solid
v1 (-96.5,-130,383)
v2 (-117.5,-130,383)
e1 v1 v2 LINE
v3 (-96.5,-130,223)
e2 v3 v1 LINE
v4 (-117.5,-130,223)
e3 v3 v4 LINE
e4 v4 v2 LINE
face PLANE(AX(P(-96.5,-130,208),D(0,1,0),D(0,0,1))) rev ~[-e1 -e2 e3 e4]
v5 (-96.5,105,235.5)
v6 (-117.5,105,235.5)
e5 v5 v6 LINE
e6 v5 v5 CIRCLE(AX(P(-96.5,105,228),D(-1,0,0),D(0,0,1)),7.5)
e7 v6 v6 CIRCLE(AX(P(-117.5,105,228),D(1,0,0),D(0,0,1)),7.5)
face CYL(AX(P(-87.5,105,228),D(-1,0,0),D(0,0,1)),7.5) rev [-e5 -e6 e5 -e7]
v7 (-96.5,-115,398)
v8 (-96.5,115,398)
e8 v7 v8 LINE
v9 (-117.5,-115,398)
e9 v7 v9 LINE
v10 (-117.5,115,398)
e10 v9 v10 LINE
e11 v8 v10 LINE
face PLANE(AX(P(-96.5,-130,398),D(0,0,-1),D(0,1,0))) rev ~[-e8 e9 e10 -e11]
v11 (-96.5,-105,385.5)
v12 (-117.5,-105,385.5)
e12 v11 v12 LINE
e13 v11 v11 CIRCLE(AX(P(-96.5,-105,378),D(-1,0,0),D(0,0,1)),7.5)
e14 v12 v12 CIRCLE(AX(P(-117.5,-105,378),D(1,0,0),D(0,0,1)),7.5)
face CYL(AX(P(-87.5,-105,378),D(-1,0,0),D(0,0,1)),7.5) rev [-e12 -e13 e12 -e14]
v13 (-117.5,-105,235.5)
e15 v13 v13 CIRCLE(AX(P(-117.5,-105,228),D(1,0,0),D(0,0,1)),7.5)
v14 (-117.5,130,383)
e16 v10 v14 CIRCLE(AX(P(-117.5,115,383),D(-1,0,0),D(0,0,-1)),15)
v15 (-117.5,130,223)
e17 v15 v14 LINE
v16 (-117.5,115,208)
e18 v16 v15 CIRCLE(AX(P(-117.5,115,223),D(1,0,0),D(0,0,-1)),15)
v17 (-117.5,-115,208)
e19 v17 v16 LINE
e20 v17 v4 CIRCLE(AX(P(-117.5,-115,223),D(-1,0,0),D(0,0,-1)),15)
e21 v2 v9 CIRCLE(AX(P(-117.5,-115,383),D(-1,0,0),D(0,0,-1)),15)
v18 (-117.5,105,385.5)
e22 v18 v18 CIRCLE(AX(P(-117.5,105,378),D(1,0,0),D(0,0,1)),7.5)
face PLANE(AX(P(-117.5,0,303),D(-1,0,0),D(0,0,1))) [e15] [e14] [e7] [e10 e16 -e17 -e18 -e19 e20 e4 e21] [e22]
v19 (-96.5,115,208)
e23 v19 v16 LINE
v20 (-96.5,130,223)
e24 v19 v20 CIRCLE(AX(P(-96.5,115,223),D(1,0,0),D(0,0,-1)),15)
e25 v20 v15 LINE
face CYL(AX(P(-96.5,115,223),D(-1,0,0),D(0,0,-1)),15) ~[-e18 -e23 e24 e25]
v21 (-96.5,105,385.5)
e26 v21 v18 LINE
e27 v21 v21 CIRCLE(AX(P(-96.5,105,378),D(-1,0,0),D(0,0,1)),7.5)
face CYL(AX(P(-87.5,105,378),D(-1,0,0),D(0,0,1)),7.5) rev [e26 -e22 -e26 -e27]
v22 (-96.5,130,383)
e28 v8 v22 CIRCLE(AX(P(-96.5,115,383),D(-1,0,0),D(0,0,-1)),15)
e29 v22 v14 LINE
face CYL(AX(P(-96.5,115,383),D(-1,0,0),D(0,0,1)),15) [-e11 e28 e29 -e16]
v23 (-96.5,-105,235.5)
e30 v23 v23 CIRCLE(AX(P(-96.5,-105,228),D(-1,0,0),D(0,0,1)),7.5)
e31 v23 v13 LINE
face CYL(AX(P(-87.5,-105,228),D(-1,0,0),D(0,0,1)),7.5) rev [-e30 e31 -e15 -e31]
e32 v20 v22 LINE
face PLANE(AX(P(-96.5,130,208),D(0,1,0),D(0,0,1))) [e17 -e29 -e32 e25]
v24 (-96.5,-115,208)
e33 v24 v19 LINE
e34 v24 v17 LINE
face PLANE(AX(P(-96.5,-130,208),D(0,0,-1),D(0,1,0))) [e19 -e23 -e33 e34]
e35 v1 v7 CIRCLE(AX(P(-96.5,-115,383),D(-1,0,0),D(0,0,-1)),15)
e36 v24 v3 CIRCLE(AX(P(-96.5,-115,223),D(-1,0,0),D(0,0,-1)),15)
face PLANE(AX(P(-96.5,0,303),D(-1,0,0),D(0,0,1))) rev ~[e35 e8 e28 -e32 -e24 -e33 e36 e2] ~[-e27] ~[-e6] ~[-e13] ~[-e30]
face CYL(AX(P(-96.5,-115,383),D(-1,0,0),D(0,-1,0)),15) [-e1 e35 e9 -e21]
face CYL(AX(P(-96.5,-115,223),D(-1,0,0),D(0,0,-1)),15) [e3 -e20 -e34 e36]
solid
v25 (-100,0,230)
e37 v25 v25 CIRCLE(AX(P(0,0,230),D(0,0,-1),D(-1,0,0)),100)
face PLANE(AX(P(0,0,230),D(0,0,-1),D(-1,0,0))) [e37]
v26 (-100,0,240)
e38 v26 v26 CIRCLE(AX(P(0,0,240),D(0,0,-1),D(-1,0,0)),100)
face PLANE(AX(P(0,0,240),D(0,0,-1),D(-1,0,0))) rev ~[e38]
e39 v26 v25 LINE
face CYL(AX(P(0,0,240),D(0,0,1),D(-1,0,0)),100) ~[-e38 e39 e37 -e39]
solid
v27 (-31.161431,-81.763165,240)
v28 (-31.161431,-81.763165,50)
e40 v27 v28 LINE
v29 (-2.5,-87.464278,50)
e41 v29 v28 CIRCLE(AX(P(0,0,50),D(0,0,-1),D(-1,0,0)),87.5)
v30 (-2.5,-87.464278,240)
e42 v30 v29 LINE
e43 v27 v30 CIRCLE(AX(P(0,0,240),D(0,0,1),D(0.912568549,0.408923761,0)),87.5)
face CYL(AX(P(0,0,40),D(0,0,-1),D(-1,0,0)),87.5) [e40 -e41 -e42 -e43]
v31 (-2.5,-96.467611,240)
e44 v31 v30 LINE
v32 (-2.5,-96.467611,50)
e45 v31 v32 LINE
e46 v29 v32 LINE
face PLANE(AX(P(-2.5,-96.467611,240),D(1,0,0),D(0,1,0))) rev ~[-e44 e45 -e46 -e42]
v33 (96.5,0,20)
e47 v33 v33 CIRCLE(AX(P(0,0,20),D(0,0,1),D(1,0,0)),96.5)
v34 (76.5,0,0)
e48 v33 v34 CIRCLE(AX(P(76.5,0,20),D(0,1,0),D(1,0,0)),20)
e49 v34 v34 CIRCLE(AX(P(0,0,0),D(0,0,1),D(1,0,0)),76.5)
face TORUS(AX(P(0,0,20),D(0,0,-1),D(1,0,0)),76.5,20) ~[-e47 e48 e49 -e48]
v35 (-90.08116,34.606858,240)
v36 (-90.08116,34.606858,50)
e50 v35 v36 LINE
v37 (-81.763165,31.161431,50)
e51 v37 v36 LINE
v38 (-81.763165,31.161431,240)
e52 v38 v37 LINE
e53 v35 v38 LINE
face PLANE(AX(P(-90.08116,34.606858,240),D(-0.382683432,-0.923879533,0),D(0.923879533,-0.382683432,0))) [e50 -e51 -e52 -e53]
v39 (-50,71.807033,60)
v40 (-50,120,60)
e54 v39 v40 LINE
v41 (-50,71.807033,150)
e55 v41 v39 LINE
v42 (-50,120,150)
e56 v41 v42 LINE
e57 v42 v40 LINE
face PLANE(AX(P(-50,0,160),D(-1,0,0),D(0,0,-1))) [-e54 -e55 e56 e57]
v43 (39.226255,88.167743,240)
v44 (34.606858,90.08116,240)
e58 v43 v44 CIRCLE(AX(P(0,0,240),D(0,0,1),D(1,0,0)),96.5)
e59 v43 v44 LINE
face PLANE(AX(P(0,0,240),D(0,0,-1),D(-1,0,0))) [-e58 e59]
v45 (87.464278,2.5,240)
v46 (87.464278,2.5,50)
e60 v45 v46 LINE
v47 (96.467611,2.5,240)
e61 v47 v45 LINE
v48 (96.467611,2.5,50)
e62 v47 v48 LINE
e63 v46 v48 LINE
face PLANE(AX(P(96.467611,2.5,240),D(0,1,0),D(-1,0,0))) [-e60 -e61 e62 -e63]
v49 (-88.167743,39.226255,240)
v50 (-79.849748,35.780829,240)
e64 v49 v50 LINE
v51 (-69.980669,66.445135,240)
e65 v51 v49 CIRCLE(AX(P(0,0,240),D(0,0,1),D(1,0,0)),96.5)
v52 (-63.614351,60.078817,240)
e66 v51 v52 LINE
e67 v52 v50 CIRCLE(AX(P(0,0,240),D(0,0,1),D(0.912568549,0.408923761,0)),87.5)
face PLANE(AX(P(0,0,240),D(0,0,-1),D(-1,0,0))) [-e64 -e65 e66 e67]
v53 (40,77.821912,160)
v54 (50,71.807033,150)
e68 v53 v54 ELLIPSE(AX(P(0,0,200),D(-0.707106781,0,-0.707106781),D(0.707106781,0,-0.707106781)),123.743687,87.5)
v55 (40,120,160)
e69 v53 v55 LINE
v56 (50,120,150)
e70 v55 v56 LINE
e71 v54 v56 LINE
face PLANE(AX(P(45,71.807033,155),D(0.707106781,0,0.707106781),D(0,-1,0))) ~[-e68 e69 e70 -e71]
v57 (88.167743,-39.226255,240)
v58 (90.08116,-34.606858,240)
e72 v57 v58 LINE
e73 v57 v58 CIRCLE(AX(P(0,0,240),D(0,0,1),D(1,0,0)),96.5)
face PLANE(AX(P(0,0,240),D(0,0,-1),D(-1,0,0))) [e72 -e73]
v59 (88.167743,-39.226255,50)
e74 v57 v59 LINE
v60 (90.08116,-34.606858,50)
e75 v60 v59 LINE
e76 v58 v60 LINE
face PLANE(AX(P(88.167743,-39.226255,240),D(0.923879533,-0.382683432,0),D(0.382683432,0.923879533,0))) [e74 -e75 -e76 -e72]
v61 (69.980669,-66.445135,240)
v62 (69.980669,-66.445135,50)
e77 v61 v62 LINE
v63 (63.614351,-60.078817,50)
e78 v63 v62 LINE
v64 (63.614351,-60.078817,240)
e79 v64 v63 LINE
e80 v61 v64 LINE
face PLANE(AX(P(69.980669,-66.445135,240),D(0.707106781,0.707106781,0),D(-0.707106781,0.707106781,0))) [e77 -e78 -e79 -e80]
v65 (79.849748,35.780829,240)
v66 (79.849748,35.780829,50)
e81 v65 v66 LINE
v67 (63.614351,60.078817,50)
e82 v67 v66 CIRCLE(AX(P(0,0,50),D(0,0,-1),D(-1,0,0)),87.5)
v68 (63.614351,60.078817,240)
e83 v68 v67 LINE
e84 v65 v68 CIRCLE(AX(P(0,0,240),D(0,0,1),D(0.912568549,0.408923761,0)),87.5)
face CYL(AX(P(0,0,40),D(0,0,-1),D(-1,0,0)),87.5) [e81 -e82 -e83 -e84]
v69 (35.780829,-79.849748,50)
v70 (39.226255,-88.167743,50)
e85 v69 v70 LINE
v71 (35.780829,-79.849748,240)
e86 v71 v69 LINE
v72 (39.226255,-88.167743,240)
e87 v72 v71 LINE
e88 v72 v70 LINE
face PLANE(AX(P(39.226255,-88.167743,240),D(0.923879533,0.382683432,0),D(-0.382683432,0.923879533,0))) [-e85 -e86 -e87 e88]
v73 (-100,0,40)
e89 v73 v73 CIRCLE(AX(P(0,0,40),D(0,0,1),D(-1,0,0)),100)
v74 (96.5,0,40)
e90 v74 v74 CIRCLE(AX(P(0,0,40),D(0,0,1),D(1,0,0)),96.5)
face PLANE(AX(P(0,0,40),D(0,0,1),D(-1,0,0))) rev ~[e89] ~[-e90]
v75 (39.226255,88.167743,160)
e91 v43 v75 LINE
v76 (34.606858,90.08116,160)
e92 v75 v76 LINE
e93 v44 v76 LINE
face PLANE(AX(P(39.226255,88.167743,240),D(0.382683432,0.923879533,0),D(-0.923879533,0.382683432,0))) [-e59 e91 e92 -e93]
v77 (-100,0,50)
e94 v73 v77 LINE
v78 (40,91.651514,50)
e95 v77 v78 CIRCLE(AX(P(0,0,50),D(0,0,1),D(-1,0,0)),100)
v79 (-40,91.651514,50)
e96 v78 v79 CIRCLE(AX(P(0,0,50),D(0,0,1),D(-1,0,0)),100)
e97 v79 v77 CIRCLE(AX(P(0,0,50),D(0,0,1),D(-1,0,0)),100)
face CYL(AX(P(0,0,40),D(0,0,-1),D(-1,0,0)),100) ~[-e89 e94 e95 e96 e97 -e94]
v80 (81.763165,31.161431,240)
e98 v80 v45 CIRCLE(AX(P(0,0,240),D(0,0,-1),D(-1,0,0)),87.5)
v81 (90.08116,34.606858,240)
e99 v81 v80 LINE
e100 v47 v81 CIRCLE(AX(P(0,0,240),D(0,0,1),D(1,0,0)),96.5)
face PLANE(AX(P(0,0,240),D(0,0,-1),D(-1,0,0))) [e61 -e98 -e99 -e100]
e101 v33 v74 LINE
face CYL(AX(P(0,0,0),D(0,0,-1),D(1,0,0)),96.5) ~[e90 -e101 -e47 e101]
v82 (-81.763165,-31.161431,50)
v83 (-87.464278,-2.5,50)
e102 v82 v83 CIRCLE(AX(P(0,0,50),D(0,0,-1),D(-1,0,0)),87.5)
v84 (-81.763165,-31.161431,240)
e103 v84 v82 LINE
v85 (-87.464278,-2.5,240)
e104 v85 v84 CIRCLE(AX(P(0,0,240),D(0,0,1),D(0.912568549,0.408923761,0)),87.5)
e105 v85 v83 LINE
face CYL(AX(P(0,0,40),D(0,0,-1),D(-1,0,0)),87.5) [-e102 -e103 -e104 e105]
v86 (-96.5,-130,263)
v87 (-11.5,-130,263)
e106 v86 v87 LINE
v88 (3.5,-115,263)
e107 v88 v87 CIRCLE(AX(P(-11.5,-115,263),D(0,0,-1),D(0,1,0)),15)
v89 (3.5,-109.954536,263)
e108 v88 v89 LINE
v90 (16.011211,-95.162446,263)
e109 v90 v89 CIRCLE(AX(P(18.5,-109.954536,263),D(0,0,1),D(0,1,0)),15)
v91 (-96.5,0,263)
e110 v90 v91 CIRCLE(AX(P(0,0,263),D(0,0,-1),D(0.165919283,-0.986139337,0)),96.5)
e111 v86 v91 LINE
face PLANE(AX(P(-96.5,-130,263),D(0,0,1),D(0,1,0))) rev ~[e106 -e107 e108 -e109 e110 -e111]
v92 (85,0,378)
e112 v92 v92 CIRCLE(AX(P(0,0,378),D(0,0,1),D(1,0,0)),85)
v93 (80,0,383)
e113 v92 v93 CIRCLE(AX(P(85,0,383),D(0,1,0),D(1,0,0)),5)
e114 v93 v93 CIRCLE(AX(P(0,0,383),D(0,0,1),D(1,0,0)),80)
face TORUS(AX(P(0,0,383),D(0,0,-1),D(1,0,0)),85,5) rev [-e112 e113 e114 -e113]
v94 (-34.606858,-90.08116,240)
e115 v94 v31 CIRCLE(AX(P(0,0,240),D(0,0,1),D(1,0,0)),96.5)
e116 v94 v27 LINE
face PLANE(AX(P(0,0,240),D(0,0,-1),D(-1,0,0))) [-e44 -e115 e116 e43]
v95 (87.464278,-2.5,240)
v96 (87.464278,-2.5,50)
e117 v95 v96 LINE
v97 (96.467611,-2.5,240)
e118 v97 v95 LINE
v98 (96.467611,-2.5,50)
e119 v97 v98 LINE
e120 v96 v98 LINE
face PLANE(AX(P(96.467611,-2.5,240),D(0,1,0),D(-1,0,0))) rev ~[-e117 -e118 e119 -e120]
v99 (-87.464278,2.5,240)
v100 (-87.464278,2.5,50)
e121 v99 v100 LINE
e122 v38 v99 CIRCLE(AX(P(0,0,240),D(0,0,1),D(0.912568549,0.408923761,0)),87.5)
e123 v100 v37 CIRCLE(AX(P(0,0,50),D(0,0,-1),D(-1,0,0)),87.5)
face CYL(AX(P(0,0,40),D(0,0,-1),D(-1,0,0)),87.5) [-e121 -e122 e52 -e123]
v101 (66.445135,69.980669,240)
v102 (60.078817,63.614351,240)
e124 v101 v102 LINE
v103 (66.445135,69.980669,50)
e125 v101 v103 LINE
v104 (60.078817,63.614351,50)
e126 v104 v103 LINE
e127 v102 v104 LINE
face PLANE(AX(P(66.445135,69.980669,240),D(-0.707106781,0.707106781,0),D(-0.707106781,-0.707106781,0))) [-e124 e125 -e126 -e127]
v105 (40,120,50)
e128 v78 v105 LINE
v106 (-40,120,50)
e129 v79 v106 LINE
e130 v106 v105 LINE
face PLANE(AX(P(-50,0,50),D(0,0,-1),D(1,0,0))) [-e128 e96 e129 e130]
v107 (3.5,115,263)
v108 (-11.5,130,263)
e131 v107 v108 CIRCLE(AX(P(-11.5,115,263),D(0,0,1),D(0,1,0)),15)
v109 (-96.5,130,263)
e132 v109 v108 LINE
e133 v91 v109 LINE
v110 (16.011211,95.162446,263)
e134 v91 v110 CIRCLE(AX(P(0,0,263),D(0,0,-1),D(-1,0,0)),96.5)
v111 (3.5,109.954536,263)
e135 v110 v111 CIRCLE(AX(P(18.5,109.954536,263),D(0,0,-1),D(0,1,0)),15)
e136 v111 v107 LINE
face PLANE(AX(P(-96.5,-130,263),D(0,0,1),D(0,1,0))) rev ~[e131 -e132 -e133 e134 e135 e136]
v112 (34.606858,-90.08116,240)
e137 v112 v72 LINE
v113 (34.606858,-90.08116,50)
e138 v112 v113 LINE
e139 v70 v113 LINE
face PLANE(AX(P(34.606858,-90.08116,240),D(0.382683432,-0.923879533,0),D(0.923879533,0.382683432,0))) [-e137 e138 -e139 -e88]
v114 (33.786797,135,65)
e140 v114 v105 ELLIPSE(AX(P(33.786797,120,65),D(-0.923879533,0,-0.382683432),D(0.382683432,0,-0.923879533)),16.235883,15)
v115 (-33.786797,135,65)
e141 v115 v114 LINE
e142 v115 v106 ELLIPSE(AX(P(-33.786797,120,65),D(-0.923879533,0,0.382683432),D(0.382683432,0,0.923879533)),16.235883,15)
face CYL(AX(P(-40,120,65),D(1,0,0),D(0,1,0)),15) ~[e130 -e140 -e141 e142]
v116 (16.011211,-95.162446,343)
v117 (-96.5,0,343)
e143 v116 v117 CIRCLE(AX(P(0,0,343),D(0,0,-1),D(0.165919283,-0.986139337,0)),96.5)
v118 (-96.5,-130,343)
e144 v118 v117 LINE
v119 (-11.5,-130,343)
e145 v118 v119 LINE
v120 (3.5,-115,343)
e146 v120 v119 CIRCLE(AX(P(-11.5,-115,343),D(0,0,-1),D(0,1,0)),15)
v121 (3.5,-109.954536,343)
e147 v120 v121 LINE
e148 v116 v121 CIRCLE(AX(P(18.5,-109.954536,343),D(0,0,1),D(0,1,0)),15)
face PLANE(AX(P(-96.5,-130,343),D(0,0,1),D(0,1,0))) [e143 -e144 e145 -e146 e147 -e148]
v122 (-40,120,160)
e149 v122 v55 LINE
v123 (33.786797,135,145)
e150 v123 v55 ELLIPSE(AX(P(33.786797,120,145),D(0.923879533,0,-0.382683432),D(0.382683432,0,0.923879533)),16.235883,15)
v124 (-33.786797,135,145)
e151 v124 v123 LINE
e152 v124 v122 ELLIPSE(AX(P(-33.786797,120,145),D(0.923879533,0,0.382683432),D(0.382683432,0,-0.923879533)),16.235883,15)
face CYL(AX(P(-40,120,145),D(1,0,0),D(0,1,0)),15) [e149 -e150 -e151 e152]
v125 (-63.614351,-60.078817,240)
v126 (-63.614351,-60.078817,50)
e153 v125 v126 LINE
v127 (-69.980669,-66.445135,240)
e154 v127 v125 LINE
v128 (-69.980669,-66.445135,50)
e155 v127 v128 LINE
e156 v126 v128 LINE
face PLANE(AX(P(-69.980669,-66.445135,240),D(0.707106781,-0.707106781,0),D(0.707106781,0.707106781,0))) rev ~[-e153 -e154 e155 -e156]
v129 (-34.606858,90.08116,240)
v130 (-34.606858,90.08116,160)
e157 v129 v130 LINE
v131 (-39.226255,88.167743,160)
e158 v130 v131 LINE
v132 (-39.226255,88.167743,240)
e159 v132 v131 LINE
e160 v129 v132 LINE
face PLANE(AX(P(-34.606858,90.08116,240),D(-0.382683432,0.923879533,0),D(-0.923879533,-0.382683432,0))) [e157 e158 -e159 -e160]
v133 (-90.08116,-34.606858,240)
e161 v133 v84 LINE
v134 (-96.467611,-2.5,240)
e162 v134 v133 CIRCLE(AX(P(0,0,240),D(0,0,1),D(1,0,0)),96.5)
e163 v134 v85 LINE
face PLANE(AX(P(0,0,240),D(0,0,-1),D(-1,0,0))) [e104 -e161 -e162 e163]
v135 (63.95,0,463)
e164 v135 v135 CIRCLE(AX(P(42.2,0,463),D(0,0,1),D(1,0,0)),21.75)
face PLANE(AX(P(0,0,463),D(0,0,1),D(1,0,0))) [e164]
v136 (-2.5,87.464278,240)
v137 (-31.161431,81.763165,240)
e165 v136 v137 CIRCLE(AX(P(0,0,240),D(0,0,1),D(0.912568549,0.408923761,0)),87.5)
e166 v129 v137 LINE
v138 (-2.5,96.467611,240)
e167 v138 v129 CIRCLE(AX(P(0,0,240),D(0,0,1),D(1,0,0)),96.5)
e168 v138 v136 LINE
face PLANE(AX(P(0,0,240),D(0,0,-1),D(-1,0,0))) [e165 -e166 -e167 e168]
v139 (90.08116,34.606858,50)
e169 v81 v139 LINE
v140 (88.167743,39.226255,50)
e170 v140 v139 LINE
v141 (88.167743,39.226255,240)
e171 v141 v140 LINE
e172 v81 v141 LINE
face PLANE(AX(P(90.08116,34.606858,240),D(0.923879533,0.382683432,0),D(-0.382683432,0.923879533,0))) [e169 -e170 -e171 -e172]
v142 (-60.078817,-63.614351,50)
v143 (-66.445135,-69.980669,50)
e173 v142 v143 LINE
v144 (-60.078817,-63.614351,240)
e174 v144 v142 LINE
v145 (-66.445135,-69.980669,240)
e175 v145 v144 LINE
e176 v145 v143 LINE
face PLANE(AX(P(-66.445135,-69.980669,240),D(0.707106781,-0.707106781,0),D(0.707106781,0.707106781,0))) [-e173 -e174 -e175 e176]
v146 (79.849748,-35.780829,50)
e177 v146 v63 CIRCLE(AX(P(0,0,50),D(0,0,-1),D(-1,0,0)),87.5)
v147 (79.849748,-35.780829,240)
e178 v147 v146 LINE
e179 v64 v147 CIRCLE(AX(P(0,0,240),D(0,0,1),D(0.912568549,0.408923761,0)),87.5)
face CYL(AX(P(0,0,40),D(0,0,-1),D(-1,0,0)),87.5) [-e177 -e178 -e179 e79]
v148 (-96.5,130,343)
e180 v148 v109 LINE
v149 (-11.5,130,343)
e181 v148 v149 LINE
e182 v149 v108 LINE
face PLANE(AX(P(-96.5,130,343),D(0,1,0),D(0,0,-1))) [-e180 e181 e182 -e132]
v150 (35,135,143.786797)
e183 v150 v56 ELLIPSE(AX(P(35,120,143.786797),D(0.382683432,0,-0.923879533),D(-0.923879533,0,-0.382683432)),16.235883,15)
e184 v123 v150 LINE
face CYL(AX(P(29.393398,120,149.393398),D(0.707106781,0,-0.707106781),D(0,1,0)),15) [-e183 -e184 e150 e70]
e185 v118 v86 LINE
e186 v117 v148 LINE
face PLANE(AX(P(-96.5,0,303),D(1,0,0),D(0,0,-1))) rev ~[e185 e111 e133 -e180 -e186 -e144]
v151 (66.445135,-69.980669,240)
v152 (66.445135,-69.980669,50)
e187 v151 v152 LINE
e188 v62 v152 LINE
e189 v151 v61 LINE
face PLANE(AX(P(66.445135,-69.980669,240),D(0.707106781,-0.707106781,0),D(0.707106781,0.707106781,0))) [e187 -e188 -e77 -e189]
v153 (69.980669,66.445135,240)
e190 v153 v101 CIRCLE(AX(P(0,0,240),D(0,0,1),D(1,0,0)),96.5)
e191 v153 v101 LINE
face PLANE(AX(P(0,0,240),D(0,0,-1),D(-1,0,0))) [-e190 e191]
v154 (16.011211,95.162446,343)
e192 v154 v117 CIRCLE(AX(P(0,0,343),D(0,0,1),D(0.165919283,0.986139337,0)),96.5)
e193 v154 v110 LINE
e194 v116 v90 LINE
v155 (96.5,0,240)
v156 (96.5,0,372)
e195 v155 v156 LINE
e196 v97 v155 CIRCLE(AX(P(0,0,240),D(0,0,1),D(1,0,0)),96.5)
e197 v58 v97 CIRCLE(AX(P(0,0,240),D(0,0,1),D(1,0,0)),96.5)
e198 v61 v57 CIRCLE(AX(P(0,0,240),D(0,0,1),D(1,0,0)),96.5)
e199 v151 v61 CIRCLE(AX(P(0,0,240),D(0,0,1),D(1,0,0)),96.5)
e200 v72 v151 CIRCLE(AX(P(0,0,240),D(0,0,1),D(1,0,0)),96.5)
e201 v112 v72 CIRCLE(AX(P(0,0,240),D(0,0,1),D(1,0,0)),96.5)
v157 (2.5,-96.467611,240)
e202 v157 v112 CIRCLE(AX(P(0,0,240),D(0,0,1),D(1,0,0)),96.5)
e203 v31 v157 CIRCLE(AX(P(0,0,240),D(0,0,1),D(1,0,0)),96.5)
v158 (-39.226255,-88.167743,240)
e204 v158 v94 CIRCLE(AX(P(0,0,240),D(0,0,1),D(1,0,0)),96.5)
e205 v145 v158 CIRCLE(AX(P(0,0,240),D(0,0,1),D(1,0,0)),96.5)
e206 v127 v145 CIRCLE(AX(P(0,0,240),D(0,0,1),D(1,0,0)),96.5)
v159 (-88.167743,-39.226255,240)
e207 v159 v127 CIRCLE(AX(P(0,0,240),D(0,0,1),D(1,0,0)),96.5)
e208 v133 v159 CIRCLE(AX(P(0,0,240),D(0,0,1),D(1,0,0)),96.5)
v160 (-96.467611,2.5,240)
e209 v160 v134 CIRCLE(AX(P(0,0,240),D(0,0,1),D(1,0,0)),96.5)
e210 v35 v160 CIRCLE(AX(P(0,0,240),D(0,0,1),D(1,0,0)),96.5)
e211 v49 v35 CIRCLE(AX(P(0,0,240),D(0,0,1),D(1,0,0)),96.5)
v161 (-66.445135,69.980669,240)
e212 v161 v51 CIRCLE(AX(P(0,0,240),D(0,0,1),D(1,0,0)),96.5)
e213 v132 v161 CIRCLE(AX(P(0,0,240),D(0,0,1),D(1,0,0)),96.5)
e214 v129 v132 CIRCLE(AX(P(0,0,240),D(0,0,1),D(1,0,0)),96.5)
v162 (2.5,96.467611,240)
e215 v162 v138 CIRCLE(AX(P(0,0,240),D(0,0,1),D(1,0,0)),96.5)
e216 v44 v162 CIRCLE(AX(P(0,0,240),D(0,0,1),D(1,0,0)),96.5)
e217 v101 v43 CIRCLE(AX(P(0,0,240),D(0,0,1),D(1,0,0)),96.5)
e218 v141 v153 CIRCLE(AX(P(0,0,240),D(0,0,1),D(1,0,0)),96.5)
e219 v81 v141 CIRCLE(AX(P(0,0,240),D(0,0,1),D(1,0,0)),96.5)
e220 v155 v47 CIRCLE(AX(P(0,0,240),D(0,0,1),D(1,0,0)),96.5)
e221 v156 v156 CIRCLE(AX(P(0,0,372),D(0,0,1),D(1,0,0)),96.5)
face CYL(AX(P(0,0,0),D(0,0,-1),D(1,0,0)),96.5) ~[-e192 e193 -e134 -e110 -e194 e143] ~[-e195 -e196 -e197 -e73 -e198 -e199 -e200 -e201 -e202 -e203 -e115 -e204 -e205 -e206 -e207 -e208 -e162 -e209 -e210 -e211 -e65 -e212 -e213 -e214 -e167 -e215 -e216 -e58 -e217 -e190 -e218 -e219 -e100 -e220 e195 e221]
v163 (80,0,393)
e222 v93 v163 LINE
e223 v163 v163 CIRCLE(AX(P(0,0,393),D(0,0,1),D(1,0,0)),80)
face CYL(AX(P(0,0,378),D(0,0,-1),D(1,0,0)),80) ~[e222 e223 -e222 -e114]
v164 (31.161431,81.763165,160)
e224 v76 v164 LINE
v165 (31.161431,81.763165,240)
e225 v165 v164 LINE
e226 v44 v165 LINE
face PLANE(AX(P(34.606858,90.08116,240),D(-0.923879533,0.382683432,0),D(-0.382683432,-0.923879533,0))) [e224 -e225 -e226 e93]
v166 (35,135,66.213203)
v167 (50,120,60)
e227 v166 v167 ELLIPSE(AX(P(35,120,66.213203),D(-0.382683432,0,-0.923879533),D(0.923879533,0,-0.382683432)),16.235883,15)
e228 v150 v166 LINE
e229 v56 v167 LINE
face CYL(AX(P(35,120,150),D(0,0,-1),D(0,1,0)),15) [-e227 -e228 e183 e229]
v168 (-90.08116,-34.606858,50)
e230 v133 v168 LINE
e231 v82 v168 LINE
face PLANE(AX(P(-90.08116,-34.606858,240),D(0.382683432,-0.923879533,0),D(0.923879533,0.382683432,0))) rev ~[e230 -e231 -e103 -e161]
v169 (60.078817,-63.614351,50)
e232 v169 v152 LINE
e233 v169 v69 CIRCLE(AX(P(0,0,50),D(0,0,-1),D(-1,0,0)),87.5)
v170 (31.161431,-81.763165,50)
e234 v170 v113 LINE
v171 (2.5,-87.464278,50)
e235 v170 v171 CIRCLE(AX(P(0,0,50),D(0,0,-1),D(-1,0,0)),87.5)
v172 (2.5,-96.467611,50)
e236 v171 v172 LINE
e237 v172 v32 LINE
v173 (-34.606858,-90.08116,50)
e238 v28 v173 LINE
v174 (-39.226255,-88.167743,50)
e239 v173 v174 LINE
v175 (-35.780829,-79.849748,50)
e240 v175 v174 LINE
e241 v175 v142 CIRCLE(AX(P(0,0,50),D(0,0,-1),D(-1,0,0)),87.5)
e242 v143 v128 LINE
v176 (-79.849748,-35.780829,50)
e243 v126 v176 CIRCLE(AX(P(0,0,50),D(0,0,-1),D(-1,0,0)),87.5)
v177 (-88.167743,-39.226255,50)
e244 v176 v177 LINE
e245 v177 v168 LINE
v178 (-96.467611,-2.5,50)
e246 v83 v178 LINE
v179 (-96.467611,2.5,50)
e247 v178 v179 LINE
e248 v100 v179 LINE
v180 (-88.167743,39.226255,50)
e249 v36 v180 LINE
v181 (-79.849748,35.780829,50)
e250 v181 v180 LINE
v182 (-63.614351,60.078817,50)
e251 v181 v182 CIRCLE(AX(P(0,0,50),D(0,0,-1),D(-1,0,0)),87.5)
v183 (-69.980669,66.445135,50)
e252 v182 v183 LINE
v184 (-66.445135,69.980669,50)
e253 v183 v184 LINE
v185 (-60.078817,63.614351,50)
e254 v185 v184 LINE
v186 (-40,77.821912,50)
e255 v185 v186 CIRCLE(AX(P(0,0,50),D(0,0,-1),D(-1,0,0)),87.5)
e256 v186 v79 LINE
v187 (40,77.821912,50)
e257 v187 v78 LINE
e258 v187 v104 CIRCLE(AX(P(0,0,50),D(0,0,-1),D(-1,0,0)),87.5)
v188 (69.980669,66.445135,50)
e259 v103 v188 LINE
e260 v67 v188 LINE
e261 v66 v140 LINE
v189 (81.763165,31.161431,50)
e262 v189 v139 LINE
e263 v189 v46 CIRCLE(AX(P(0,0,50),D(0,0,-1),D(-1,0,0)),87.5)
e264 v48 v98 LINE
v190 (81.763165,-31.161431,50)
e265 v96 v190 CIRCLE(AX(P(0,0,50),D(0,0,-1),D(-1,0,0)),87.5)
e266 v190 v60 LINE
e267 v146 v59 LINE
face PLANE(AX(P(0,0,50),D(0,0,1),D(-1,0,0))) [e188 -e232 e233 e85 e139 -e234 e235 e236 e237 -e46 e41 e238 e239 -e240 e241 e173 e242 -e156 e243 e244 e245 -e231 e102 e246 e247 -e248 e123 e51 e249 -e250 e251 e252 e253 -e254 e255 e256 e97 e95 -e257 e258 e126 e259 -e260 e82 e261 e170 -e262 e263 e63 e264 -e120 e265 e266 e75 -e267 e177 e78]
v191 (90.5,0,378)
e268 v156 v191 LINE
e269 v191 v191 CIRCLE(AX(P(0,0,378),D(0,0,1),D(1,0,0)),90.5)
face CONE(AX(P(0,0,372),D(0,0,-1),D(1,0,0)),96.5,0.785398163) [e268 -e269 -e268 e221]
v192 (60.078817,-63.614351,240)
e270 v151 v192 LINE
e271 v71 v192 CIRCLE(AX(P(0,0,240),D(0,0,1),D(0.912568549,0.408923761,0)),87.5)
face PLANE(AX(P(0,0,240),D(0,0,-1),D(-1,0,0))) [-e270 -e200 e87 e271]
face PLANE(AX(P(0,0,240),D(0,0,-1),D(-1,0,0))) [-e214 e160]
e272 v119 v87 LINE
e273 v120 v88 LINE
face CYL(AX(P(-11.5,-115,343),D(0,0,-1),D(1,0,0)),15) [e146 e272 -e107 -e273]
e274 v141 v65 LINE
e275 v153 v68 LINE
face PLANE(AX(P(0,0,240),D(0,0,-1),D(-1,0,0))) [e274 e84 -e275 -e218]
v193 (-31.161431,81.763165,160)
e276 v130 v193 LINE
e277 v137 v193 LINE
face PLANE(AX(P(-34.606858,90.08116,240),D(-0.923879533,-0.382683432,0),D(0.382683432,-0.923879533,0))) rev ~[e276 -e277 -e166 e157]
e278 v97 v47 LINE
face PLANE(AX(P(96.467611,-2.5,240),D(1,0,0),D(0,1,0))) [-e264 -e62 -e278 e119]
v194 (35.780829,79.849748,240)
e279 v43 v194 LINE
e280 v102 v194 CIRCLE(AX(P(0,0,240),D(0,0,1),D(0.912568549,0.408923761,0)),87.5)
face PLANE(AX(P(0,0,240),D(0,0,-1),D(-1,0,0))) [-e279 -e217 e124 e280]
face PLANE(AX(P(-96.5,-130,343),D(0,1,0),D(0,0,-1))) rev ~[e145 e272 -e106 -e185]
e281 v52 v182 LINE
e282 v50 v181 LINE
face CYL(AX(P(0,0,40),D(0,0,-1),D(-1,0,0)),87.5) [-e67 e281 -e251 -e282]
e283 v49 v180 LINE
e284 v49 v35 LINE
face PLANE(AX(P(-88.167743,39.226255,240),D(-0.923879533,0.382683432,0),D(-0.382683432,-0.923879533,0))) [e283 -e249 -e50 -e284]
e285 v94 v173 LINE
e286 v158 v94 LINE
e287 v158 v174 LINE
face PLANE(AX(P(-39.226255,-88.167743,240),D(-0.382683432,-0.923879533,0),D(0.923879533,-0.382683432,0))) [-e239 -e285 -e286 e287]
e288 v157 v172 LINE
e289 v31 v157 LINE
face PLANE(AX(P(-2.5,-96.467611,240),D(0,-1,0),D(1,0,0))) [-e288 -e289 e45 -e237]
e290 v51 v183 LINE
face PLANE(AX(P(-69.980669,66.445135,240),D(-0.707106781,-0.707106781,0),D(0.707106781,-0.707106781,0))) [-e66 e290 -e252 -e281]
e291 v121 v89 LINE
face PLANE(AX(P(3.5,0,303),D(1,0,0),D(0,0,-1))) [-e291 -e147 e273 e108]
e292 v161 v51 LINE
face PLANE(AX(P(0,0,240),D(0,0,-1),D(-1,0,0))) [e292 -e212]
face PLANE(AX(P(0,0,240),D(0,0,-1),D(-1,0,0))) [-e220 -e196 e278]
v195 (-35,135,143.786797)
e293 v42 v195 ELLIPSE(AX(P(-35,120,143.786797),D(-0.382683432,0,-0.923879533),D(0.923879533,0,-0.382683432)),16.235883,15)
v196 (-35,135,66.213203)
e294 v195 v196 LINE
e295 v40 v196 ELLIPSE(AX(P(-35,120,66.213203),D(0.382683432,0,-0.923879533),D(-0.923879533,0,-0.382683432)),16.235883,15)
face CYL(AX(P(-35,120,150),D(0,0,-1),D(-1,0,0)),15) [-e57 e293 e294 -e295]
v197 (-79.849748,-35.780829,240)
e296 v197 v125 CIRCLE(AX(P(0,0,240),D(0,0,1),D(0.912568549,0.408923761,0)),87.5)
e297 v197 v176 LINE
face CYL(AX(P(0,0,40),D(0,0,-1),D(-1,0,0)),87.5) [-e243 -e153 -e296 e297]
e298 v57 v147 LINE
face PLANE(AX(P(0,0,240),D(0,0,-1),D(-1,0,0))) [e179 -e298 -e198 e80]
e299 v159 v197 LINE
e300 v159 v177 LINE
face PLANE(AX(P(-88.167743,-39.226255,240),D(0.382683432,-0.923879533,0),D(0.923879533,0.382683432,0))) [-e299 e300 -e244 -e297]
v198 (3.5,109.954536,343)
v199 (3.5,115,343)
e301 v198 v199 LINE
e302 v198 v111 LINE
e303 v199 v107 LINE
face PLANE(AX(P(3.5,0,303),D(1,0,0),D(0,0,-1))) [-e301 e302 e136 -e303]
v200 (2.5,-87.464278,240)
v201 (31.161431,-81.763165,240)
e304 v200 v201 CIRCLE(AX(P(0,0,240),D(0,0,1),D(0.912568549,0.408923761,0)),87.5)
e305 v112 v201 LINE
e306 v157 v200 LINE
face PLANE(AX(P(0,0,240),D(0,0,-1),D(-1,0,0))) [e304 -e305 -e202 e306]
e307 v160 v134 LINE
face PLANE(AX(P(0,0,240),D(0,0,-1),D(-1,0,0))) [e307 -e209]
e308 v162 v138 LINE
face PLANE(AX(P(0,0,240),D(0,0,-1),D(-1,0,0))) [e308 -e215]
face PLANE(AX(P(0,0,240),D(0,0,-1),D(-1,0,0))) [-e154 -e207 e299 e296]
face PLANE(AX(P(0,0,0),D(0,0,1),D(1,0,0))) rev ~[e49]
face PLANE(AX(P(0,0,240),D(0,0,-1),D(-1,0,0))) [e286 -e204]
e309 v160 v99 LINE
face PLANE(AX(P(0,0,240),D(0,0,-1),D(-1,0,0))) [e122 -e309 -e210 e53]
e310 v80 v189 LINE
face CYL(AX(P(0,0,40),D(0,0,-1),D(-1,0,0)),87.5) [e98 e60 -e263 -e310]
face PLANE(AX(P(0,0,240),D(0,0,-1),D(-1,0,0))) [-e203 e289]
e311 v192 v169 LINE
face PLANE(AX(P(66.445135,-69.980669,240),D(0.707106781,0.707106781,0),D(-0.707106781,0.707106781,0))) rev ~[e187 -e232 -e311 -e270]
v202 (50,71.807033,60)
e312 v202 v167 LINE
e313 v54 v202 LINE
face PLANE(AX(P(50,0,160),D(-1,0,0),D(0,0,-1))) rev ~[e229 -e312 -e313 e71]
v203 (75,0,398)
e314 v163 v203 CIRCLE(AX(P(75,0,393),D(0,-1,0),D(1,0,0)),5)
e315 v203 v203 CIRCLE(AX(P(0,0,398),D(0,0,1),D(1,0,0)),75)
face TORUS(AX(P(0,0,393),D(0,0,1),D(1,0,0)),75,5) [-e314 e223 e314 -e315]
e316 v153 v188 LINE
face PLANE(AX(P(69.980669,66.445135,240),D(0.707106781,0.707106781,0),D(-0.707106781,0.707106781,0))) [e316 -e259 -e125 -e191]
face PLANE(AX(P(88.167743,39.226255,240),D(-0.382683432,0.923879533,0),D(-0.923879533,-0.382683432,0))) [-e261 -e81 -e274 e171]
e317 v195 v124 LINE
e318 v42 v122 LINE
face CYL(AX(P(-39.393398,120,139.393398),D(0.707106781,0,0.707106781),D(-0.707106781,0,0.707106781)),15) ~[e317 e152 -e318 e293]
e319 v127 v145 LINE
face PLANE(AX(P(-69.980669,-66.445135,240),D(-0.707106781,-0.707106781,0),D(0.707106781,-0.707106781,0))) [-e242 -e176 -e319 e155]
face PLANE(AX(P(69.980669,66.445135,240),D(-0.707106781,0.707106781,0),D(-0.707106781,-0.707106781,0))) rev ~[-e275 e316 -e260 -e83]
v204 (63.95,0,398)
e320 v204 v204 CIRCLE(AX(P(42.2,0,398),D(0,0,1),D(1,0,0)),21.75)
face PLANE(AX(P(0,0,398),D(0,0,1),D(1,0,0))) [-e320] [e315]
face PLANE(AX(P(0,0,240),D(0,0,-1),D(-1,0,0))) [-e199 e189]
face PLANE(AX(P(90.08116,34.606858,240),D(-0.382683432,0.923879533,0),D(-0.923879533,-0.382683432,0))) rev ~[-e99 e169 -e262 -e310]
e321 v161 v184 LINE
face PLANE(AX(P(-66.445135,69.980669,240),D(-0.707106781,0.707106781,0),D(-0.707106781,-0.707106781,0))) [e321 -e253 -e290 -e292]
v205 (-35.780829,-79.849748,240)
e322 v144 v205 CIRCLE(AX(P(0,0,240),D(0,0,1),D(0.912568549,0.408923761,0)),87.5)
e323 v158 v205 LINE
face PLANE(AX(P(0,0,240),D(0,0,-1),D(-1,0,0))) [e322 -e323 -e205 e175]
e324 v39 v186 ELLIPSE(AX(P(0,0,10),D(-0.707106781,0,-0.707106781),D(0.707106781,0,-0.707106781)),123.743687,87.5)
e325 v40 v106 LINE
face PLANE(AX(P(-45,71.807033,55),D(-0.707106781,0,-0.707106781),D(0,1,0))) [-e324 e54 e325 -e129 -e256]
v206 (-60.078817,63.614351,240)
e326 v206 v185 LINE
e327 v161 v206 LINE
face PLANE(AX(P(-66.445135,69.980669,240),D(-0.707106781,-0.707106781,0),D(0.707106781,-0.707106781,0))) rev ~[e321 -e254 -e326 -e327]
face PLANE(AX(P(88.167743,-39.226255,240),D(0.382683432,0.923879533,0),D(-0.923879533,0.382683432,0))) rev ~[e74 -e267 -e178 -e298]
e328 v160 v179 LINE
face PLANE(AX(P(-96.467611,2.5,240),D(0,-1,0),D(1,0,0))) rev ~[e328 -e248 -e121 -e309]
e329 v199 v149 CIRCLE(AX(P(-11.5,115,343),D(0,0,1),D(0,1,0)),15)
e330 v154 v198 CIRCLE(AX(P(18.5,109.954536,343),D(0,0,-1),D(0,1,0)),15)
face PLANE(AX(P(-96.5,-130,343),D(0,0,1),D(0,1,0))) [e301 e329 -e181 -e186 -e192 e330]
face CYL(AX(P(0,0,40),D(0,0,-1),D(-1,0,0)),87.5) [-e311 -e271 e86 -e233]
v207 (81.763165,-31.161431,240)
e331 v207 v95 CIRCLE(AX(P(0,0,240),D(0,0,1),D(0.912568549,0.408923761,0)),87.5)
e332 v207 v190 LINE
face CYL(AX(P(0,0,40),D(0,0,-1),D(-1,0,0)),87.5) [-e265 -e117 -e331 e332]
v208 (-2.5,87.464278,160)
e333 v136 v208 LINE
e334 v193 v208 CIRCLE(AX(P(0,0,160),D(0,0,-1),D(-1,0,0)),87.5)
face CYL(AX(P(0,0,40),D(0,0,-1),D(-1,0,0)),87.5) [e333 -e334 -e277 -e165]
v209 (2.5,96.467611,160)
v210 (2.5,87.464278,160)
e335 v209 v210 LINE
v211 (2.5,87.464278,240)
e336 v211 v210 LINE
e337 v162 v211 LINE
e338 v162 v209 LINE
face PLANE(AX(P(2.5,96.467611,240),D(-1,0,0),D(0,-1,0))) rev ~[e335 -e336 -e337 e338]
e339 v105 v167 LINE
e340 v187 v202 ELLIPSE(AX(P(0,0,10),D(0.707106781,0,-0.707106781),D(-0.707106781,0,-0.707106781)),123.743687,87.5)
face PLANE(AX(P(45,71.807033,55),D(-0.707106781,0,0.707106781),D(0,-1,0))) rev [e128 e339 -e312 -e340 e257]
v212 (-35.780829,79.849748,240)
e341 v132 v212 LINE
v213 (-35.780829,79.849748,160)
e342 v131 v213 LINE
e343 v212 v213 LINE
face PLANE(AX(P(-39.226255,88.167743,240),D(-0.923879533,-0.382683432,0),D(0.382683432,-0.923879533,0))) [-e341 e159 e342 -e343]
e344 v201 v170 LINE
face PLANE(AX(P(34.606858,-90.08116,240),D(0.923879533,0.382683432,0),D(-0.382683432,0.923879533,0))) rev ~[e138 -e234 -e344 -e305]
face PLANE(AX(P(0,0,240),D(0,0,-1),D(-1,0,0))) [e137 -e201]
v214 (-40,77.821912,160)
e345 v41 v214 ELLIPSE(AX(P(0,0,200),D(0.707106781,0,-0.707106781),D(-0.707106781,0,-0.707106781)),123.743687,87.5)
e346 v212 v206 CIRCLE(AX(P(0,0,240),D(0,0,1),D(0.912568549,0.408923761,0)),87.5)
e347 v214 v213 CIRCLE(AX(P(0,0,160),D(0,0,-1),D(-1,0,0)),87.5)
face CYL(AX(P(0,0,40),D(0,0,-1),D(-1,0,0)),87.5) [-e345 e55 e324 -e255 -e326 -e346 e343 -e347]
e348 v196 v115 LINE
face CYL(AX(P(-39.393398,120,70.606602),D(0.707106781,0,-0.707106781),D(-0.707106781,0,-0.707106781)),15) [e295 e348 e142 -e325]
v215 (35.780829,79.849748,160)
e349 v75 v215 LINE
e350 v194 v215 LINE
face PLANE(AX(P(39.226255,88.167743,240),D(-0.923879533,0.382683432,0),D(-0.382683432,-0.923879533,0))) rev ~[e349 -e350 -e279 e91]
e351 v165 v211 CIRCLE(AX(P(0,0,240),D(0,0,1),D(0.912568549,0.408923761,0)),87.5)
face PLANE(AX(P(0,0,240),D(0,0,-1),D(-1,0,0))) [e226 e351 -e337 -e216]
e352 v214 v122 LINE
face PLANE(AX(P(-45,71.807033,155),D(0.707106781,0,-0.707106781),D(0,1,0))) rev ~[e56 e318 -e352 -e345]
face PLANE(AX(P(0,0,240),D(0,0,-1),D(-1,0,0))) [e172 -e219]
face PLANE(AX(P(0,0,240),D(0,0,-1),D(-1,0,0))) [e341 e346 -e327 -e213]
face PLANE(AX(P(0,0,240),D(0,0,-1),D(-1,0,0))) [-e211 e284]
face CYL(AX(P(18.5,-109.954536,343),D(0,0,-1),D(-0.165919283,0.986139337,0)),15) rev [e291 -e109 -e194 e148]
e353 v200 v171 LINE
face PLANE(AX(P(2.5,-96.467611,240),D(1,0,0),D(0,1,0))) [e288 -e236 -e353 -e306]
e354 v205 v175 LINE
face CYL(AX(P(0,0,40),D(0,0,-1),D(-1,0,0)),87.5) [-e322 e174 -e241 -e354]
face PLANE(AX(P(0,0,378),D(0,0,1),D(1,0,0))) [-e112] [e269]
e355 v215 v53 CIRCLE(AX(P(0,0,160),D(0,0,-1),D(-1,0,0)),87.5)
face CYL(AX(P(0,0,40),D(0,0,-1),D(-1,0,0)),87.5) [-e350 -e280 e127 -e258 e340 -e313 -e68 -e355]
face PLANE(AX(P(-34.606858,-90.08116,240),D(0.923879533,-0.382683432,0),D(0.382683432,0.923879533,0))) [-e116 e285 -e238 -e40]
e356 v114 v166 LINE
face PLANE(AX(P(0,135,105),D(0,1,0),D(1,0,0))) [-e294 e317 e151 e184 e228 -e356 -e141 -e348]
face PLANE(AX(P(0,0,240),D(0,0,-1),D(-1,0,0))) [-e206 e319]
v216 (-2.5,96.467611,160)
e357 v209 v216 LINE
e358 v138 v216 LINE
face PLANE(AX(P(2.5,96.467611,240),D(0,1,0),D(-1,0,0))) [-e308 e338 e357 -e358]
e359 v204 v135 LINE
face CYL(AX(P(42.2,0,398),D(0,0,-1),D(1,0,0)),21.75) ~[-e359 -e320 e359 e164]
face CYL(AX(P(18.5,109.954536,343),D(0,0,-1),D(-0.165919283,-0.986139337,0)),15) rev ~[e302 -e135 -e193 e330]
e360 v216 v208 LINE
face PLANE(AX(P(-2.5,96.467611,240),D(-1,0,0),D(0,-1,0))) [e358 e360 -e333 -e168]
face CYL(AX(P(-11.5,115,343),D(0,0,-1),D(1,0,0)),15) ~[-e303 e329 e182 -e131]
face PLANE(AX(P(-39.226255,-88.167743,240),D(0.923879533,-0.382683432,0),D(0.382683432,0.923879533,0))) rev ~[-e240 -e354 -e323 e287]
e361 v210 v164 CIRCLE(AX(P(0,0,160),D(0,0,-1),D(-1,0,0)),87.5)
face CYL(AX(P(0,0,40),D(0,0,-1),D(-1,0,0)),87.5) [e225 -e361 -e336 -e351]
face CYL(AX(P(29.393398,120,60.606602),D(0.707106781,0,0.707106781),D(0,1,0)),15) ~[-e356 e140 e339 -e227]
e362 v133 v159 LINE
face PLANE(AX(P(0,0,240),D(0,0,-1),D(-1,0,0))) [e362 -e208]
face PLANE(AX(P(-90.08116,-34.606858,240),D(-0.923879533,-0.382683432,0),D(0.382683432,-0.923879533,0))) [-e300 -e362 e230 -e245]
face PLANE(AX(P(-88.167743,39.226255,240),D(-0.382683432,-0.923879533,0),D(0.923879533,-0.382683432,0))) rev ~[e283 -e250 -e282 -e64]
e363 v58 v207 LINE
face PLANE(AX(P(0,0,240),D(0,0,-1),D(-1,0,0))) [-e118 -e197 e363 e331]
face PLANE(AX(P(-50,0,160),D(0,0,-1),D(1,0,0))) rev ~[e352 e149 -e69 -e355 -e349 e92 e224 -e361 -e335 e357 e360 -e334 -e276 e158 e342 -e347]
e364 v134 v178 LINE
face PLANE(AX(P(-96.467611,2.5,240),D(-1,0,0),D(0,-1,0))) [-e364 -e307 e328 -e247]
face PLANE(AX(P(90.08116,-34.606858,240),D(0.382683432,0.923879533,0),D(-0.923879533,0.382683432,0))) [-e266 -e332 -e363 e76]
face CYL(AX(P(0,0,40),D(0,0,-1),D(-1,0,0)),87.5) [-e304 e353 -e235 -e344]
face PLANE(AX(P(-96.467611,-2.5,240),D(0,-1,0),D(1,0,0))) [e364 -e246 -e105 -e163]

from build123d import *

# Parameters (mm, degrees)
SKETCH1_R                         = 96.5
BOSS_EXTRUDE1_DEPTH               = 463
SKETCH2_W                         = 190
SKETCH2_H                         = 260
BOSS_EXTRUDE2_DEPTH               = 21
CUT_EXTRUDE1_START                = -65
SKETCH3_R                         = 96.5
SKETCH3_R_2                       = 21.75
CUT_EXTRUDE1_DEPTH                = 65
FILLET1_R                         = 20
CUT_EXTRUDE2_START                = -20
SKETCH4_R                         = 96.5
SKETCH4_R_2                       = 80
CUT_EXTRUDE2_DEPTH                = 20
CHAMFER1_SIZE                     = 6
FILLET2_R                         = 5
SKETCH6_W                         = 80
SKETCH6_H                         = 260
BOSS_EXTRUDE6_DEPTH               = 100
FILLET3_R                         = 15
CUT_EXTRUDE3_START                = 200
SKETCH7_R                         = 96.5
SKETCH7_R_2                       = 87.5
CUT_EXTRUDE3_DEPTH                = 200
SKETCH8_W                         = 17.93522229
SKETCH8_H                         = 5
BOSS_EXTRUDE7_DEPTH               = 200
CIRPATTERN1_COUNT                 = 16
SKETCH9_W                         = 100
SKETCH9_H                         = 110
BOSS_EXTRUDE8_DEPTH               = 135
CHAMFER2_SIZE                     = 10
FILLET4_R                         = 15
FILLET5_R                         = 15
F_16_0_MM_DOWEL_HOLES1_AT_2_COUNT = 2
F_16_0_MM_DOWEL_HOLES1_AT_2_PITCH = 150
F_16_0_MM_DOWEL_HOLES1_AT_3_COUNT = 2
F_16_0_MM_DOWEL_HOLES1_AT_3_PITCH = 258.069758011
F_16_0_MM_DOWEL_HOLES1_AT_4_COUNT = 2
F_16_0_MM_DOWEL_HOLES1_AT_4_PITCH = 210
SKETCH12_R                        = 100
BOSS_EXTRUDE11_DEPTH              = 10
SKETCH13_R                        = 100
BOSS_EXTRUDE12_DEPTH              = 10


with BuildPart() as part:
    # Sketch1 → Boss-Extrude1 (new body)
    with BuildSketch(Plane.XY):
        Circle(SKETCH1_R)
    extrude(amount=BOSS_EXTRUDE1_DEPTH)

    # Sketch3 → Cut-Extrude1 (cut)
    with BuildSketch(Plane.XY.offset(463).offset(CUT_EXTRUDE1_START)):
        Circle(SKETCH3_R)
        with Locations((42.2, 0)):
            Circle(SKETCH3_R_2, mode=Mode.SUBTRACT)
    extrude(amount=CUT_EXTRUDE1_DEPTH, mode=Mode.SUBTRACT)

    # Fillet1
    fillet1_edges = [part.edges().sort_by_distance(p)[0] for p in [
        (-96.5, 0, 0),
    ]]
    fillet(fillet1_edges, radius=FILLET1_R)

    # Sketch4 → Cut-Extrude2 (cut)
    with BuildSketch(Plane.XY.offset(398).offset(CUT_EXTRUDE2_START)):
        Circle(SKETCH4_R)
        Circle(SKETCH4_R_2, mode=Mode.SUBTRACT)
    extrude(amount=CUT_EXTRUDE2_DEPTH, mode=Mode.SUBTRACT)

    # Chamfer1
    chamfer1_edges = [part.edges().sort_by_distance(p)[0] for p in [
        (-96.5, 0, 378),
    ]]
    chamfer(chamfer1_edges, length=CHAMFER1_SIZE)

    # Fillet2
    fillet2_edges = [part.edges().sort_by_distance(p)[0] for p in [
        (-80, 0, 378),
        (-80, 0, 398),
    ]]
    fillet(fillet2_edges, radius=FILLET2_R)

    # Sketch6 → Boss-Extrude6 (add)
    with BuildSketch(Plane(origin=(-96.5, 0, 0), x_dir=(0, 0, -1), z_dir=(1, 0, 0))):
        with Locations((-303, 0)):
            Rectangle(SKETCH6_W, SKETCH6_H)
    extrude(amount=BOSS_EXTRUDE6_DEPTH)

    # Fillet3
    fillet3_edges = [part.edges().sort_by_distance(p)[0] for p in [
        (3.5, -96.43650761, 303),
        (3.5, 96.43650761, 303),
        (3.5, -130, 303),
        (3.5, 130, 303),
    ]]
    fillet(fillet3_edges, radius=FILLET3_R)

    # Sketch7 → Cut-Extrude3 (cut)
    with BuildSketch(Plane(origin=(0, 0, 240), x_dir=(-1, 0, 0), z_dir=(0, 0, -1)).offset(CUT_EXTRUDE3_START)):
        Circle(SKETCH7_R)
        Circle(SKETCH7_R_2, mode=Mode.SUBTRACT)
    extrude(amount=-CUT_EXTRUDE3_DEPTH, mode=Mode.SUBTRACT)

    # Sketch8 → Boss-Extrude7 (add)
    with BuildSketch(Plane(origin=(0, 0, 240), x_dir=(-1, 0, 0), z_dir=(0, 0, -1))):
        with Locations((-87.5, 0)):
            Rectangle(SKETCH8_W, SKETCH8_H)
    boss_extrude7 = extrude(amount=BOSS_EXTRUDE7_DEPTH)

    # CirPattern1: Boss-Extrude7 ×16 about axis
    cirpattern1_axis = Axis((0, 0, 0), (0, 0, 1))
    for i in range(1, CIRPATTERN1_COUNT):
        add(boss_extrude7.rotate(cirpattern1_axis, i * 360 / CIRPATTERN1_COUNT))

    # Sketch9 → Boss-Extrude8 (add)
    with BuildSketch(Plane(origin=(0, 0, 0), x_dir=(1, 0, 0), z_dir=(0, 1, 0))):
        with Locations((0, -105)):
            Rectangle(SKETCH9_W, SKETCH9_H)
    extrude(amount=BOSS_EXTRUDE8_DEPTH)

    # Chamfer2
    chamfer2_edges = [part.edges().sort_by_distance(p)[0] for p in [
        (-50, 103.403516541, 50),
        (50, 103.403516541, 160),
        (50, 103.403516541, 50),
        (-50, 103.403516541, 160),
    ]]
    chamfer(chamfer2_edges, length=CHAMFER2_SIZE)

    # Fillet4
    fillet4_edges = [part.edges().sort_by_distance(p)[0] for p in [
        (0, 135, 50),
        (50, 135, 105),
        (-50, 135, 105),
        (0, 135, 160),
        (-45, 135, 55),
        (-45, 135, 155),
        (45, 135, 155),
        (45, 135, 55),
    ]]
    fillet(fillet4_edges, radius=FILLET4_R)

    # Sketch13 → Boss-Extrude12 (add)
    with BuildSketch(Plane.XY.offset(40)):
        with Locations(Location((0, 0, 0), (0, 0, 180))):
            Circle(SKETCH13_R)
    extrude(amount=BOSS_EXTRUDE12_DEPTH)


with BuildPart() as body_2:
    # Sketch2 → Boss-Extrude2 (new body)
    with BuildSketch(Plane.ZY.offset(96.5)):
        with Locations((303, 0)):
            Rectangle(SKETCH2_W, SKETCH2_H)
    extrude(amount=BOSS_EXTRUDE2_DEPTH)

    # Fillet5
    fillet5_edges = [body_2.edges().sort_by_distance(p)[0] for p in [
        (-107, 130, 208),
        (-107, 130, 398),
        (-107, -130, 398),
        (-107, -130, 208),
    ]]
    fillet(fillet5_edges, radius=FILLET5_R)

    # Sketch11 → Ø16.0 mm Dowel Holes1 (revolve, cut)
    with BuildSketch(Plane(origin=(-117.5, 105, 228), x_dir=(0, 0, 1), z_dir=(0, 1, 0))):
        Polygon((0, 0), (0, 34.506454643), (7.5, 30), (7.5, 0), align=None)
    f_16_0_mm_dowel_holes1 = revolve(axis=Axis((-123.85, 105, 228), (1, 0, 0)), mode=Mode.SUBTRACT)

    # Ø16.0 mm Dowel Holes1 at 2: Ø16.0 mm Dowel Holes1 ×2
    with Locations(*[(0, 0, i * F_16_0_MM_DOWEL_HOLES1_AT_2_PITCH) for i in range(1, F_16_0_MM_DOWEL_HOLES1_AT_2_COUNT)]):
        add(f_16_0_mm_dowel_holes1, mode=Mode.SUBTRACT)

    # Ø16.0 mm Dowel Holes1 at 3: Ø16.0 mm Dowel Holes1 ×2
    with Locations(*[Vector(0, -0.8137334712067349, 0.5812381937190965) * (i * F_16_0_MM_DOWEL_HOLES1_AT_3_PITCH) for i in range(1, F_16_0_MM_DOWEL_HOLES1_AT_3_COUNT)]):
        add(f_16_0_mm_dowel_holes1, mode=Mode.SUBTRACT)

    # Ø16.0 mm Dowel Holes1 at 4: Ø16.0 mm Dowel Holes1 ×2
    with Locations(*[(0, -i * F_16_0_MM_DOWEL_HOLES1_AT_4_PITCH, 0) for i in range(1, F_16_0_MM_DOWEL_HOLES1_AT_4_COUNT)]):
        add(f_16_0_mm_dowel_holes1, mode=Mode.SUBTRACT)


with BuildPart() as body_3:
    # Sketch12 → Boss-Extrude11 (new body)
    with BuildSketch(Plane(origin=(0, 0, 240), x_dir=(-1, 0, 0), z_dir=(0, 0, -1))):
        Circle(SKETCH12_R)
    extrude(amount=BOSS_EXTRUDE11_DEPTH)


solid = Compound([part.part, body_2.part, body_3.part])
